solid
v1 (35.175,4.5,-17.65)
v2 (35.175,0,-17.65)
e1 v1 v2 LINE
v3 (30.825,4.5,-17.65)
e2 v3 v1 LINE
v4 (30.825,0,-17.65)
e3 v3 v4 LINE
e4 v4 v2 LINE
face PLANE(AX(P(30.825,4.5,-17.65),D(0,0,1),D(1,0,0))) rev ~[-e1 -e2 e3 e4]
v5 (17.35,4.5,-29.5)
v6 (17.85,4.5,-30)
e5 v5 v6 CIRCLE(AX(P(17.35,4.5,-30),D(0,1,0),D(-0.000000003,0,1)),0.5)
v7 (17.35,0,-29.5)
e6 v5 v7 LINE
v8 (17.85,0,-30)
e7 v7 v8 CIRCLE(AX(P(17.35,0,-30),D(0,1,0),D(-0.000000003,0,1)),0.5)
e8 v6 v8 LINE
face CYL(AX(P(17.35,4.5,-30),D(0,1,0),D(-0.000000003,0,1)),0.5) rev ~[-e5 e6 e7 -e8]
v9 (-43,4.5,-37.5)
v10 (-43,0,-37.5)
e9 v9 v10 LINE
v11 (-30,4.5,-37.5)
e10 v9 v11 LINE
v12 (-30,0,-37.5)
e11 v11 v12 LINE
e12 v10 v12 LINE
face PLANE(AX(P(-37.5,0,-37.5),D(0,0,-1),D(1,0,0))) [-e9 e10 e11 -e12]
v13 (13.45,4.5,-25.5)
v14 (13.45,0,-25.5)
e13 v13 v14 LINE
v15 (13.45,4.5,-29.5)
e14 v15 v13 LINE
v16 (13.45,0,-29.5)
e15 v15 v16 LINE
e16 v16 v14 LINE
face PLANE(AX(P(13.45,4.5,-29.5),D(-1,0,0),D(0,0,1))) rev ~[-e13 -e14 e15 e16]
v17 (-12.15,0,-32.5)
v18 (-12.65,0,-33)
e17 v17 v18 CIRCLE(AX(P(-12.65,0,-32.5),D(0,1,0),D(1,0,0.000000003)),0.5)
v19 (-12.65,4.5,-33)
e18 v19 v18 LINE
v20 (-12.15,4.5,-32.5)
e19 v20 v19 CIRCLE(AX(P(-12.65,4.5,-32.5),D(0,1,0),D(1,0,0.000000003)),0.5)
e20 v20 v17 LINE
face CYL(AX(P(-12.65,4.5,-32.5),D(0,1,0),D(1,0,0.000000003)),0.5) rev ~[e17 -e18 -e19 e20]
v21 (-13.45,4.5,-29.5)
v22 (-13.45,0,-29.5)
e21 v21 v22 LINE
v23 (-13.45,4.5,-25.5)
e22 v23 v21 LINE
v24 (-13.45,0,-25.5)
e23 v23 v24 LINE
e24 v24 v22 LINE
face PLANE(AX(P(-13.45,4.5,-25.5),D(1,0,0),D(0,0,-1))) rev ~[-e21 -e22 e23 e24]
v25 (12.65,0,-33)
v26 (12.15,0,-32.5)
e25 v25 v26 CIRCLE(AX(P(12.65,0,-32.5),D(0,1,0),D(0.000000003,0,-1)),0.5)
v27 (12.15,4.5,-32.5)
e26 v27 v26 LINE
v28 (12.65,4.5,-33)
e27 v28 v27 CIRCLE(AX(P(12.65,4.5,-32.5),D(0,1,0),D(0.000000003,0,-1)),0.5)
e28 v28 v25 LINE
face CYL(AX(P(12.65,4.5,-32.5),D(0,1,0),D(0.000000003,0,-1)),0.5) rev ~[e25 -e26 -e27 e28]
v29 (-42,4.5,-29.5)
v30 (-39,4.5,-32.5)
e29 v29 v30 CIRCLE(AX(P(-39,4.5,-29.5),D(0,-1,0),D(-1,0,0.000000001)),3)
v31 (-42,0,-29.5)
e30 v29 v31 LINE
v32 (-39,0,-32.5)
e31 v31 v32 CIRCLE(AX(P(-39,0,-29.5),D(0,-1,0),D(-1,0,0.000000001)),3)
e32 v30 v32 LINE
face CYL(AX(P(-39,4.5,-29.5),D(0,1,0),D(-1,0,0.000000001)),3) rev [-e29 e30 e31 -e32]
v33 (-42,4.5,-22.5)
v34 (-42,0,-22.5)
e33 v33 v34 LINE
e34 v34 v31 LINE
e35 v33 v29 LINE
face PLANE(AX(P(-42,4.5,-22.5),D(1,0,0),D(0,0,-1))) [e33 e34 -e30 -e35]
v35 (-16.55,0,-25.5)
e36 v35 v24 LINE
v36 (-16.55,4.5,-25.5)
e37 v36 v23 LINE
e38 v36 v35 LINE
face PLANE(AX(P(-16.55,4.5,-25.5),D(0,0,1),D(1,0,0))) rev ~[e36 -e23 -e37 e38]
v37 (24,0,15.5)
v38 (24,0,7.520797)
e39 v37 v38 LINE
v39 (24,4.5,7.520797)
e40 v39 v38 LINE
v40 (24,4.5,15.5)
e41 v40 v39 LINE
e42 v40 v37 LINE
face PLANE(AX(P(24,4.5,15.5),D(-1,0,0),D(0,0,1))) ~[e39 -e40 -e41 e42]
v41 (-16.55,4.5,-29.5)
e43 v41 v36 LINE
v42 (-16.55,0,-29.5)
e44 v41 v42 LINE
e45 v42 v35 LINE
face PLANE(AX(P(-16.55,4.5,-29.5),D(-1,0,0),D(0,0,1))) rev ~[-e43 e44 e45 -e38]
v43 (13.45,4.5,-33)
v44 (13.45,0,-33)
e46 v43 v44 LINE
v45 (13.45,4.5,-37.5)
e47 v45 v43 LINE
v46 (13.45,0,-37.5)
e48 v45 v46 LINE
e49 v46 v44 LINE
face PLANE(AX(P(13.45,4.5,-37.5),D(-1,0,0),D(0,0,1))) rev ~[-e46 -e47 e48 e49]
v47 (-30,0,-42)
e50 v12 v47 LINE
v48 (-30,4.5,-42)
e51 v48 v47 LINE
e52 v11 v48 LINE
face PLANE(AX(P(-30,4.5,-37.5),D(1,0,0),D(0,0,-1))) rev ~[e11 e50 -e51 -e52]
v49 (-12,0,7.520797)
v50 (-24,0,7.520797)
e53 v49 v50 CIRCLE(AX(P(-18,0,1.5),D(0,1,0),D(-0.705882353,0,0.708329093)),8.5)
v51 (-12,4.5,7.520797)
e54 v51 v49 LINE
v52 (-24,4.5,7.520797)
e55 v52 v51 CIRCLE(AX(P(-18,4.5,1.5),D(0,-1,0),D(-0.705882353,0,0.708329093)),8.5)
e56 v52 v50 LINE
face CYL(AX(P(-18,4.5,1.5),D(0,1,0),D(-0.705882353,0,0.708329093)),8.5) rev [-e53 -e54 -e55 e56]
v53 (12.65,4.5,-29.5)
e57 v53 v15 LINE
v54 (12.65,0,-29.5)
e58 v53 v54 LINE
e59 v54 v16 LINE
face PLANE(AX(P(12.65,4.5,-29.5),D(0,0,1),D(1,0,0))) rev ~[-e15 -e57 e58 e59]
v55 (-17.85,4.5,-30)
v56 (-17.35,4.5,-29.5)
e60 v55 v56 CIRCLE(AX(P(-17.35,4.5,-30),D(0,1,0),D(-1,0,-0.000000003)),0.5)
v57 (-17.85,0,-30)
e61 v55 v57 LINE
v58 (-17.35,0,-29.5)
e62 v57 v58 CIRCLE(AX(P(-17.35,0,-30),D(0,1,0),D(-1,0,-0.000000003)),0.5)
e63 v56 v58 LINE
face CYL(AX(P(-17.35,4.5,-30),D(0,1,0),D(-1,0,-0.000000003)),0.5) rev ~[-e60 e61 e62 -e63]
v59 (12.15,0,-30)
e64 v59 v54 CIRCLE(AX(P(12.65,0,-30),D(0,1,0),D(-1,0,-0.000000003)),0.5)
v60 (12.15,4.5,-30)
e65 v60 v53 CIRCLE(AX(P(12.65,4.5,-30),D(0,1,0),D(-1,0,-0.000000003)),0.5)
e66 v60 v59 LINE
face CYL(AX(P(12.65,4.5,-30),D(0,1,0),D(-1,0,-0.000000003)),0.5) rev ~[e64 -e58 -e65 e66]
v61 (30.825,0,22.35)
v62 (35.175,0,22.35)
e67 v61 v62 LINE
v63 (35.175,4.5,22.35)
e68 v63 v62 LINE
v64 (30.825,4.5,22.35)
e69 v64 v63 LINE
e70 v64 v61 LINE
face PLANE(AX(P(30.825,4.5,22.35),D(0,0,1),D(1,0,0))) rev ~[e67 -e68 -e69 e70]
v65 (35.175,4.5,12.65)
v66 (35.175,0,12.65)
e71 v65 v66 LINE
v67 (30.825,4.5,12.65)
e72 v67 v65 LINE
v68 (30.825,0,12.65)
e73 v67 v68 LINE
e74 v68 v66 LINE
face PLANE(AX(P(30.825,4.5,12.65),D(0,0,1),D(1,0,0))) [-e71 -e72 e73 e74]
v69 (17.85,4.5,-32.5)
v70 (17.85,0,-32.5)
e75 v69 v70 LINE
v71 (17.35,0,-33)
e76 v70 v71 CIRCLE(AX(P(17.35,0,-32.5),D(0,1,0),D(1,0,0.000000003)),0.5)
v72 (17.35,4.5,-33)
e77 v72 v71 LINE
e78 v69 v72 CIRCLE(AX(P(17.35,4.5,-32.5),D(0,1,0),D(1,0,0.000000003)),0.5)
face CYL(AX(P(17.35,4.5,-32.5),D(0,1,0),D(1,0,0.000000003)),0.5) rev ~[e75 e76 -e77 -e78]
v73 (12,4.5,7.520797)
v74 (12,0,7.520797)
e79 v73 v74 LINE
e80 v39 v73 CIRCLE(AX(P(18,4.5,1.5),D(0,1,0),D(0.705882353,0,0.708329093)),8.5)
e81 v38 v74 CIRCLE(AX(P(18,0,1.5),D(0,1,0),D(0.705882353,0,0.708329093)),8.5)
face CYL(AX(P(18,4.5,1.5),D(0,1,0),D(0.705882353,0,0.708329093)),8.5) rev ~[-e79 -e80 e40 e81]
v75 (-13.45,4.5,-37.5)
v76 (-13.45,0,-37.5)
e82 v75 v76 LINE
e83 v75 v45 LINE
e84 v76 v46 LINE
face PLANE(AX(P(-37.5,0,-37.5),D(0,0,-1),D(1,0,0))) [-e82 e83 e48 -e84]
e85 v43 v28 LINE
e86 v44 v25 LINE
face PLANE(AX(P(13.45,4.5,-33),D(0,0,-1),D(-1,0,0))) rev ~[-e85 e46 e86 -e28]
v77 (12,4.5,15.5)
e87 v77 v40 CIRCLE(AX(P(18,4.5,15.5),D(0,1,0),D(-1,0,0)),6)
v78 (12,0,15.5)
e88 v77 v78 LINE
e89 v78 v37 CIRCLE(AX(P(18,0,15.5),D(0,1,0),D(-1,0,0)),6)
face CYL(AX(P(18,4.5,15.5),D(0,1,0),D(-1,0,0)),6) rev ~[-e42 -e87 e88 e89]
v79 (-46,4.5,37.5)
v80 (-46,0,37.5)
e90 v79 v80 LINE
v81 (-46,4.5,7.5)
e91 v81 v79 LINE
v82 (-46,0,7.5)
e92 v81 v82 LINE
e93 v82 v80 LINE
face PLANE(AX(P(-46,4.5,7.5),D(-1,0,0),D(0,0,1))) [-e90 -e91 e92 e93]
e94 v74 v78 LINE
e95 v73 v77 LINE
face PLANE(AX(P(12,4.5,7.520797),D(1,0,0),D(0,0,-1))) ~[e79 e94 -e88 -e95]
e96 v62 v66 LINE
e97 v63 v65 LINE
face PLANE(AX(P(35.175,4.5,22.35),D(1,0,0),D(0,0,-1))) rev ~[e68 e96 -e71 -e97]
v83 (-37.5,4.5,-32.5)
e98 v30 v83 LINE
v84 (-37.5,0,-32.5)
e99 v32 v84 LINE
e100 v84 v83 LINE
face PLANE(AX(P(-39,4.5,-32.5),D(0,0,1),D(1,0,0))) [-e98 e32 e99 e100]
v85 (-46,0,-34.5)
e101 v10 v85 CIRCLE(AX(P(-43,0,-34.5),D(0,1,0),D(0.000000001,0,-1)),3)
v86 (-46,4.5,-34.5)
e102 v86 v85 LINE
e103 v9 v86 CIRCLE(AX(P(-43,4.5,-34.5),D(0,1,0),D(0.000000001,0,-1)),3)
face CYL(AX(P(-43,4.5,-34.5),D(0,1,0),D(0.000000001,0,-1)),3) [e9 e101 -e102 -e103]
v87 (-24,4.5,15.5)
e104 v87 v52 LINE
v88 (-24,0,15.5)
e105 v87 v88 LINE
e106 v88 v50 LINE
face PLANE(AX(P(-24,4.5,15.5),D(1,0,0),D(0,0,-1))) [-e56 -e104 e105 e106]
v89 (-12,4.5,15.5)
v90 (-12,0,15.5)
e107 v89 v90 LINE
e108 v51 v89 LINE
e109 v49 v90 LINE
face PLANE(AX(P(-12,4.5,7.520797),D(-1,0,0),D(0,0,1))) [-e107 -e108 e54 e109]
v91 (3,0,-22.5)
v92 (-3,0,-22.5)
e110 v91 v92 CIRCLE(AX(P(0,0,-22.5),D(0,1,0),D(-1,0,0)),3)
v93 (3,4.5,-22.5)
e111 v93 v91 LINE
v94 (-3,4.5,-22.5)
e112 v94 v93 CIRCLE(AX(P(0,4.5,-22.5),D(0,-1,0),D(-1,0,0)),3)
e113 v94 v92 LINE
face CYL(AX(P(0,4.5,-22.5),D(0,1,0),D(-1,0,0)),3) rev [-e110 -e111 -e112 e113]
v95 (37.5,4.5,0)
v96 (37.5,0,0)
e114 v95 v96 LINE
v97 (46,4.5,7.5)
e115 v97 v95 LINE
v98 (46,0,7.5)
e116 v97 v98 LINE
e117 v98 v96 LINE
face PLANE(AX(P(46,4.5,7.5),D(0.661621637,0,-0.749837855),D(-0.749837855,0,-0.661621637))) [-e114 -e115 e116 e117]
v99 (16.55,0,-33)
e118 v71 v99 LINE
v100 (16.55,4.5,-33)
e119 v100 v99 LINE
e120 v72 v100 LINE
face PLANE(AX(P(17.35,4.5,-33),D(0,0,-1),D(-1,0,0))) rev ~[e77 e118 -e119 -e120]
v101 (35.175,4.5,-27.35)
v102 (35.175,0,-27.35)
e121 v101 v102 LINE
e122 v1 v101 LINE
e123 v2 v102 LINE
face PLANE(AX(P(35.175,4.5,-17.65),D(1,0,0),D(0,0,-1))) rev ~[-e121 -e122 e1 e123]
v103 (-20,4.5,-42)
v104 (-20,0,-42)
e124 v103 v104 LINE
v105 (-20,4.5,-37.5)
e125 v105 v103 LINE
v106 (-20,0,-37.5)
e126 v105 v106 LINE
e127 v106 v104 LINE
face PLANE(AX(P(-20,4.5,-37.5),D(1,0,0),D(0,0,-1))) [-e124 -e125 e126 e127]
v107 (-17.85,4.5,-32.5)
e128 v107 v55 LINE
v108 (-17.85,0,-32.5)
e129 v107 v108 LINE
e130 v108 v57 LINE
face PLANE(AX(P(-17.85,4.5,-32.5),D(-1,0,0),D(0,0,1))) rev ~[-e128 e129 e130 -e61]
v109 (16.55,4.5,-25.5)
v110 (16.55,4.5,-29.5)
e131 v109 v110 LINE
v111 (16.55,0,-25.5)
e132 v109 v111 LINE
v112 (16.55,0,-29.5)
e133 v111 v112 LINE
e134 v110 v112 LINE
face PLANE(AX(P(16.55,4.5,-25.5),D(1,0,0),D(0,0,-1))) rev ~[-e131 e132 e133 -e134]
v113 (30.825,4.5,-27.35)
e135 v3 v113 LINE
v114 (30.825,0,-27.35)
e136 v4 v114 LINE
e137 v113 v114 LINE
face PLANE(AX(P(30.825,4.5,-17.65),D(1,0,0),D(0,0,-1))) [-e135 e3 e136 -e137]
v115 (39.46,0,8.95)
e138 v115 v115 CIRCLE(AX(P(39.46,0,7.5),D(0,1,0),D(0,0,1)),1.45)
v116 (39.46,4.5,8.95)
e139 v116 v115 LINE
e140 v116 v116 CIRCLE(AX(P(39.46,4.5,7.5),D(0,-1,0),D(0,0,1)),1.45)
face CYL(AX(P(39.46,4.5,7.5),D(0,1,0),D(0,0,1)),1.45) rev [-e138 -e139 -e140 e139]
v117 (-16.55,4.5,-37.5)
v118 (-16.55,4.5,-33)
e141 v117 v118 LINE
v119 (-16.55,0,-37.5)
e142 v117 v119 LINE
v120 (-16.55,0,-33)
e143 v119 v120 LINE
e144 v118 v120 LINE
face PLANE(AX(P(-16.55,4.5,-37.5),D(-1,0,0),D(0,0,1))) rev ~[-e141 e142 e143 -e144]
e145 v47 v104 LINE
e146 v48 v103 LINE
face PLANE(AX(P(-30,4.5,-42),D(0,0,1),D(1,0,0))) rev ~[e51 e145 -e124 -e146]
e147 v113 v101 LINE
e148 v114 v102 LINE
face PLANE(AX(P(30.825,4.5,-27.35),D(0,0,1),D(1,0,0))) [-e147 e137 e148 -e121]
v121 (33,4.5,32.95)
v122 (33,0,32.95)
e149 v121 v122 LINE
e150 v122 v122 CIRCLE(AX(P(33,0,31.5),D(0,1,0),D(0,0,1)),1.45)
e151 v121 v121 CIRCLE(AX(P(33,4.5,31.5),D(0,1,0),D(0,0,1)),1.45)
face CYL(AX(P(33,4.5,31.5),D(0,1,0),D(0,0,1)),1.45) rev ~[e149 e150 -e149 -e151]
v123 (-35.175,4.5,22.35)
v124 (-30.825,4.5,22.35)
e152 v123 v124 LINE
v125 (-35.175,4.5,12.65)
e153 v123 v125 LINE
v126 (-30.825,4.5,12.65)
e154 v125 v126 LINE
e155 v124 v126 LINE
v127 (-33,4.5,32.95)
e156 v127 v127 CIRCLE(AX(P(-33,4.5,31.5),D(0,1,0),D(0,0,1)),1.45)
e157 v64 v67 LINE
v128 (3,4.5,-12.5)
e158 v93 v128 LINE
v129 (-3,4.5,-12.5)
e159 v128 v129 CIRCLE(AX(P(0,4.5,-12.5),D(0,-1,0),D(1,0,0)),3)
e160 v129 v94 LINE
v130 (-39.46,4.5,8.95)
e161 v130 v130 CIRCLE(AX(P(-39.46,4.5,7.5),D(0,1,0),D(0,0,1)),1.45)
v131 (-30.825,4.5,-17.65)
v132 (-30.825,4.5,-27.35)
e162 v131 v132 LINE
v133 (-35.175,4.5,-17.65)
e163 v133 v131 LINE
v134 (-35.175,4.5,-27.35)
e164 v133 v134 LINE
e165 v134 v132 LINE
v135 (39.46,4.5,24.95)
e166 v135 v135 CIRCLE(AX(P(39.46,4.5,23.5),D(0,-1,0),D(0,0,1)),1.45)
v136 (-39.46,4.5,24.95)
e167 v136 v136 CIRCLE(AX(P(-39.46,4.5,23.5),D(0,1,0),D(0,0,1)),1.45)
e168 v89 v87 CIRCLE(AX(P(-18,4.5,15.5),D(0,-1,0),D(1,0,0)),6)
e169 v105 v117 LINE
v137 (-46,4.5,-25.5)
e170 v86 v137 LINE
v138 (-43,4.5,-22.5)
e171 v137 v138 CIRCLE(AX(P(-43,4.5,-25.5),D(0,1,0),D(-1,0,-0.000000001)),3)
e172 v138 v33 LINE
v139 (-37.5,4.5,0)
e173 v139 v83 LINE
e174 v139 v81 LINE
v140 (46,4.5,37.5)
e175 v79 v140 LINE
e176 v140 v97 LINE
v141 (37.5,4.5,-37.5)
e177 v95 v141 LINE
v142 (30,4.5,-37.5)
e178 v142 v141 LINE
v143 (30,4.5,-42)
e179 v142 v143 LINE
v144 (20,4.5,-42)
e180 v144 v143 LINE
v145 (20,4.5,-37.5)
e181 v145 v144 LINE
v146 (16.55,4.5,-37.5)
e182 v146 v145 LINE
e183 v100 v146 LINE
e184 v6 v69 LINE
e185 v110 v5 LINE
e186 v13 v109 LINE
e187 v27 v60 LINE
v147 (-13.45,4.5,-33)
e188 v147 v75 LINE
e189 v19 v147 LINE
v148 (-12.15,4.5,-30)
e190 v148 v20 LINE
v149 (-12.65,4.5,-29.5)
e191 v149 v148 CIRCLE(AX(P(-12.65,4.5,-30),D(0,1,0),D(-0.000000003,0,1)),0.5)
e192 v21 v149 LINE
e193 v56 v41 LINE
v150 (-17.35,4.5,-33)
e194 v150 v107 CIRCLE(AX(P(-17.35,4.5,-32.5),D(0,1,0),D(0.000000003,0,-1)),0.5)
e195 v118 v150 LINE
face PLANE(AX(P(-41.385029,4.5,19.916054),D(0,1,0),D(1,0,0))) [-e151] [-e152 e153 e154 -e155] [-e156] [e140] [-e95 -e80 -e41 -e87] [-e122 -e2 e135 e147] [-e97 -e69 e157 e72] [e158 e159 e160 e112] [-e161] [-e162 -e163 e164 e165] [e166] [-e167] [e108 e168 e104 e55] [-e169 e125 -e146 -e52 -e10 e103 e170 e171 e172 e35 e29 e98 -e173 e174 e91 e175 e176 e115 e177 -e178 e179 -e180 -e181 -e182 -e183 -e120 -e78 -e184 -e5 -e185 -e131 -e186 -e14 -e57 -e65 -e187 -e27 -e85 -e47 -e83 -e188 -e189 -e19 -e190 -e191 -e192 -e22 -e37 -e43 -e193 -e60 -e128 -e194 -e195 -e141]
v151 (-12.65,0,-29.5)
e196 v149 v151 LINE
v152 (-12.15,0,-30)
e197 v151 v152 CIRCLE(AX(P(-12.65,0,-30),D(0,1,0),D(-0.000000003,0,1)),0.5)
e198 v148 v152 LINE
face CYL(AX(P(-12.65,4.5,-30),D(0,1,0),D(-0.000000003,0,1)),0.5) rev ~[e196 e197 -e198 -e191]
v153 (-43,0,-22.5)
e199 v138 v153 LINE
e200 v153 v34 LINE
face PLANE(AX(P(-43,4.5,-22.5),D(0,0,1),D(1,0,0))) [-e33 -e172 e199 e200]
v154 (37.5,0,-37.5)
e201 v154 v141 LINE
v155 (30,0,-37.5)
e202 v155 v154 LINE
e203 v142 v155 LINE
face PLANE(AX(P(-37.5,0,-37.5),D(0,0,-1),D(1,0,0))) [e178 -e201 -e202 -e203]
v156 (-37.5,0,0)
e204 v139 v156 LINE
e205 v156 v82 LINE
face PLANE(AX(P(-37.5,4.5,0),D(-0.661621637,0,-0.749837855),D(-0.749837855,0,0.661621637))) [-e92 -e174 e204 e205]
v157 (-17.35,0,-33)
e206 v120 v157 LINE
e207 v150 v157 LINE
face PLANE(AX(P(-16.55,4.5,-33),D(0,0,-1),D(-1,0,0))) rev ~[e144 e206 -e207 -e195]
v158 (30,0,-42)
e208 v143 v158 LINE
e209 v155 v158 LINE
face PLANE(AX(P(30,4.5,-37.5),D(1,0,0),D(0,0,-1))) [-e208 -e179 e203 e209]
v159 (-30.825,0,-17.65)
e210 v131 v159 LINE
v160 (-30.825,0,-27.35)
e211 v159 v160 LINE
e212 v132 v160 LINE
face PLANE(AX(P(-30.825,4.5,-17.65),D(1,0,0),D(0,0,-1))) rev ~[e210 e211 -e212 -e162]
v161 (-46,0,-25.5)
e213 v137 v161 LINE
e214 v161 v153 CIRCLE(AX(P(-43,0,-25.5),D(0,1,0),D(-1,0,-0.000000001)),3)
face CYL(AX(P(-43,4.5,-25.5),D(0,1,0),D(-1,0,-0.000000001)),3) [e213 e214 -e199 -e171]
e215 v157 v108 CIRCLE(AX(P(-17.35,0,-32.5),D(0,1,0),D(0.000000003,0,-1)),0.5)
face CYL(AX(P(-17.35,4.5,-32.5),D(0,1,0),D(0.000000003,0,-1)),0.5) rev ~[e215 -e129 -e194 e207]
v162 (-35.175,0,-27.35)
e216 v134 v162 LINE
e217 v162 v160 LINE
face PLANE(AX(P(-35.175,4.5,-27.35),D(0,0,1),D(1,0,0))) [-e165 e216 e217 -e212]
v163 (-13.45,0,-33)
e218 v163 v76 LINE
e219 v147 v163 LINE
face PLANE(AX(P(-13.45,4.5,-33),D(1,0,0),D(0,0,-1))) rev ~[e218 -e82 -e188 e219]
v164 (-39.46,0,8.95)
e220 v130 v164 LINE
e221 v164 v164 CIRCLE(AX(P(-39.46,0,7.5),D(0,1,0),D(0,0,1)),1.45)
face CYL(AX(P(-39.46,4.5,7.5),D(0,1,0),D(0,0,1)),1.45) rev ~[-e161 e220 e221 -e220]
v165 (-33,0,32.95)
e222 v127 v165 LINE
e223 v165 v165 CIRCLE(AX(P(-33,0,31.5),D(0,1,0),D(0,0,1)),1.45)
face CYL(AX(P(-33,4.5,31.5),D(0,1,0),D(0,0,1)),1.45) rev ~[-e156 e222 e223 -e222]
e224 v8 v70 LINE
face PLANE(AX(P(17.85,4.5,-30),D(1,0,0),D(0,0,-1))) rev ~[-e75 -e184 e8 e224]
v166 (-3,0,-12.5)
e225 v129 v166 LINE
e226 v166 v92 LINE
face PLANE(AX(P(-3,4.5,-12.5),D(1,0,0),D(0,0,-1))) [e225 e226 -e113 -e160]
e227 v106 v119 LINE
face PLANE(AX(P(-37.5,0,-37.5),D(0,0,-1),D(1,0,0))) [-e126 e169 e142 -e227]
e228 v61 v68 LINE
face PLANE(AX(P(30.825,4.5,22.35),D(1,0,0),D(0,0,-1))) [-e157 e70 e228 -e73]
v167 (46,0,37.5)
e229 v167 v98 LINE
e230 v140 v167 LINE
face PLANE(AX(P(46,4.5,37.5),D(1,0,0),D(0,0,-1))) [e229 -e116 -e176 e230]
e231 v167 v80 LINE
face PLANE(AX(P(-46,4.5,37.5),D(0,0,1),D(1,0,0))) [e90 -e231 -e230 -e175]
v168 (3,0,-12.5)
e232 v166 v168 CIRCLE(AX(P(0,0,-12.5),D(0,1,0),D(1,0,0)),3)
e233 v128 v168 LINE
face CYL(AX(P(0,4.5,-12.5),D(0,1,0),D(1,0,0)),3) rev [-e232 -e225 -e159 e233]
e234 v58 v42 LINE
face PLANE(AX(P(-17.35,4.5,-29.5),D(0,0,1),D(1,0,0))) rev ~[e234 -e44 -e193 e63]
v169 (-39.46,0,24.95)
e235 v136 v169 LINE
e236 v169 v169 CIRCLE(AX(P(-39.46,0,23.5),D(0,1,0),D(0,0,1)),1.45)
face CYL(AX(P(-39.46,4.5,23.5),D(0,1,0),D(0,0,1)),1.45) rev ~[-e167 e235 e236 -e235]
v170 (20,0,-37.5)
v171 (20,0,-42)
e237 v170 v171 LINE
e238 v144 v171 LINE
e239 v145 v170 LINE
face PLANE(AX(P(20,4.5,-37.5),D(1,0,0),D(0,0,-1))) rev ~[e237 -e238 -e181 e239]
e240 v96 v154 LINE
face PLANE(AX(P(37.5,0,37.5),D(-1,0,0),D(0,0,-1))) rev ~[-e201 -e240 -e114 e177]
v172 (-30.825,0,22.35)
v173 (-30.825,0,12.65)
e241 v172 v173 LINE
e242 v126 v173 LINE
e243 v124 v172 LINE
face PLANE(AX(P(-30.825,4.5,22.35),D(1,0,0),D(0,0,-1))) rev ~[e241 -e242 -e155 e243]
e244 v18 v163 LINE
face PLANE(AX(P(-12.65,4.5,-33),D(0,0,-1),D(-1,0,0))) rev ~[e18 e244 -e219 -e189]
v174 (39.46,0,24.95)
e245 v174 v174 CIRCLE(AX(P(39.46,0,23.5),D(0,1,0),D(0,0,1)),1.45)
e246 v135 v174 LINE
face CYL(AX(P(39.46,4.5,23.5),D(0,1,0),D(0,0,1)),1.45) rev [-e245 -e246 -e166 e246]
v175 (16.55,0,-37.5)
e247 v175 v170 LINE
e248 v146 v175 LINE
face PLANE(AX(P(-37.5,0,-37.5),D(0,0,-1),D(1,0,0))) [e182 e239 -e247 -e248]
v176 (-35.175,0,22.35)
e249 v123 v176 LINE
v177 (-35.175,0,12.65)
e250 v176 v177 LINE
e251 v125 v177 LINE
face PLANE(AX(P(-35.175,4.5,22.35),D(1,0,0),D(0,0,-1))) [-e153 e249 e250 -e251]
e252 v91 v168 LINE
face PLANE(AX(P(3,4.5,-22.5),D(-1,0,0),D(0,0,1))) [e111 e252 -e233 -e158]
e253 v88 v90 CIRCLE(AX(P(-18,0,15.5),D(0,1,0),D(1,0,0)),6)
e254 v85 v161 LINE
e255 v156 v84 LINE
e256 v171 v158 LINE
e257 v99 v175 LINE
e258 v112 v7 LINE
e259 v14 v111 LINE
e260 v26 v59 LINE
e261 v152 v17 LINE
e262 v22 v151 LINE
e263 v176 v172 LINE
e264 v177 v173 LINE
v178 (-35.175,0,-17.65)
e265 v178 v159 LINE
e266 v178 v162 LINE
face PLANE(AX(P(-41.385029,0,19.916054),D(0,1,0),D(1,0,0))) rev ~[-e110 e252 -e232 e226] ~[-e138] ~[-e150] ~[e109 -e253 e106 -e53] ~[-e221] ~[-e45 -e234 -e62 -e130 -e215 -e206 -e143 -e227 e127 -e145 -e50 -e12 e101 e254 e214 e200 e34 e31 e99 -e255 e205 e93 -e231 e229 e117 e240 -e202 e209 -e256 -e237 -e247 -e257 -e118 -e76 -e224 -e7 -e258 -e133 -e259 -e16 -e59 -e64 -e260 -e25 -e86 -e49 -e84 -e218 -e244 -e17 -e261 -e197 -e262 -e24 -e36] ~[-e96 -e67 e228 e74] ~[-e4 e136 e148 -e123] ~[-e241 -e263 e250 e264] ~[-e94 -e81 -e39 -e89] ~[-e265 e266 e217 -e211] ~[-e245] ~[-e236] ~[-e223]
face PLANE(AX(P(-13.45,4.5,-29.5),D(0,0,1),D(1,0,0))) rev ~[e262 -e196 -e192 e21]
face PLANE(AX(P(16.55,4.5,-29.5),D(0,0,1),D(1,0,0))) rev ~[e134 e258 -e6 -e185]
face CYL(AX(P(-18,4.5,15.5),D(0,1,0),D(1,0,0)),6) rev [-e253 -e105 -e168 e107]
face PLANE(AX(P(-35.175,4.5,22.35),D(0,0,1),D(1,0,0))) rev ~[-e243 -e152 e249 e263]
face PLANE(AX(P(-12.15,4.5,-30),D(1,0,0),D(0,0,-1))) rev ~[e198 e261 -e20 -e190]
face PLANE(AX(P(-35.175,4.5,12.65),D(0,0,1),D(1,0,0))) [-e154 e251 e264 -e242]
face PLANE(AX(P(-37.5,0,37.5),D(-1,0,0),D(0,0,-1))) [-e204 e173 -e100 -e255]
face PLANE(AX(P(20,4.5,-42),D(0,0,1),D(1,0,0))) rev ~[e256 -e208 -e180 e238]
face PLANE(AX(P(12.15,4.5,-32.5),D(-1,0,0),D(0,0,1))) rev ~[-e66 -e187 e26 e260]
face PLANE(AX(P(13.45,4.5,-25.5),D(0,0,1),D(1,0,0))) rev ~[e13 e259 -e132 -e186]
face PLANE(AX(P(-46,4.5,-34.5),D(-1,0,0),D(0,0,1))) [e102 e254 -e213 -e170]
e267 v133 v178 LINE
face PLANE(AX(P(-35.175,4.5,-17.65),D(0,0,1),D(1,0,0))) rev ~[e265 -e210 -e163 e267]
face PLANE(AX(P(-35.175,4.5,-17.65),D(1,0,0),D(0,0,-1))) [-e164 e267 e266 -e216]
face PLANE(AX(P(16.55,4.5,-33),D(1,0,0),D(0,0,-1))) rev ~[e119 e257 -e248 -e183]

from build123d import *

# Parameters (mm, degrees)
SKETCH1_W            = 75
SKETCH1_H            = 75
MAINSHAPE_DEPTH      = 4.5
SKETCH5_W            = 4.35
SKETCH5_H            = 9.7
CUT_EXTRUDE3_DEPTH   = 54.223584998
CUT_EXTRUDE4_DEPTH   = 54.223584998
BOSS_EXTRUDE2_DEPTH  = 4.5
SKETCH8_R            = 1.45
CUT_EXTRUDE6_DEPTH   = 60.51890456
SKETCH11_W           = 10
SKETCH11_H           = 4.5
REARTABS_DEPTH       = 4.5
FRONTSCREWSLOT_DEPTH = 63.451981554
SKETCH14_R           = 1.45
BRACESCREWS_DEPTH    = 63.451981554
WIRINGSLOT_DEPTH     = 63.451981554
BOSS_EXTRUDE4_DEPTH  = 4.5


with BuildPart() as part:
    # Sketch1 → MainShape (new body)
    with BuildSketch(Plane(origin=(0, 0, 0), x_dir=(1, 0, 0), z_dir=(0, 1, 0))):
        Rectangle(SKETCH1_W, SKETCH1_H)
    extrude(amount=MAINSHAPE_DEPTH)

    # Sketch5 → Cut-Extrude3 (cut, through all)
    with BuildSketch(Plane(origin=(0, 4.5, 0), x_dir=(1, 0, 0), z_dir=(0, 1, 0))):
        with Locations((33, 22.5)):
            Rectangle(SKETCH5_W, SKETCH5_H)
        with Locations((-33, 22.5)):
            Rectangle(SKETCH5_W, SKETCH5_H)
        with Locations((-33, -17.5)):
            Rectangle(SKETCH5_W, SKETCH5_H)
        with Locations((33, -17.5)):
            Rectangle(SKETCH5_W, SKETCH5_H)
    extrude(amount=-CUT_EXTRUDE3_DEPTH, mode=Mode.SUBTRACT)

    # Sketch6 → Cut-Extrude4 (cut, through all)
    with BuildSketch(Plane(origin=(0, 4.5, 0), x_dir=(1, 0, 0), z_dir=(0, 1, 0))):
        with BuildLine():
            Line((-24, -15.5), (-24, -7.520797289))
            ThreePointArc((-24, -7.520797289), (-18, 7), (-12, -7.520797289))
            Line((-12, -7.520797289), (-12, -15.5))
            ThreePointArc((-12, -15.5), (-18, -21.5), (-24, -15.5))
        make_face()
    cut_extrude4 = extrude(amount=-CUT_EXTRUDE4_DEPTH, mode=Mode.SUBTRACT)

    # Sketch13 → Boss-Extrude2 (add, through all)
    with BuildSketch(Plane(origin=(0, 4.5, 0), x_dir=(1, 0, 0), z_dir=(0, 1, 0))):
        Polygon((-37.5, -37.5), (-37.5, 0), (-46, -7.5), (-46, -37.5), align=None)
        Polygon((37.5, 0), (37.5, -37.5), (46, -37.5), (46, -7.5), align=None)
    extrude(amount=-BOSS_EXTRUDE2_DEPTH)

    # Sketch8 → Cut-Extrude6 (cut, through all)
    with BuildSketch(Plane(origin=(0, 4.5, 0), x_dir=(1, 0, 0), z_dir=(0, 1, 0))):
        with Locations(Location((-39.46, -7.5, 0), (0, 0, 270))):
            Circle(SKETCH8_R)
        with Locations(Location((-39.46, -23.5, 0), (0, 0, 270))):
            Circle(SKETCH8_R)
    cut_extrude6 = extrude(amount=-CUT_EXTRUDE6_DEPTH, mode=Mode.SUBTRACT)

    # Mirror1: Cut-Extrude4, Cut-Extrude6 across plane
    add(cut_extrude4.mirror(Plane(origin=(0, 0, 0), x_dir=(0, 0, 1), z_dir=(1, 0, 0))), mode=Mode.SUBTRACT)
    add(cut_extrude6.mirror(Plane(origin=(0, 0, 0), x_dir=(0, 0, 1), z_dir=(1, 0, 0))), mode=Mode.SUBTRACT)

    # Sketch11 → RearTabs (add, through all)
    with BuildSketch(Plane(origin=(0, 4.5, 0), x_dir=(1, 0, 0), z_dir=(0, 1, 0))):
        with Locations((-25, 39.75)):
            Rectangle(SKETCH11_W, SKETCH11_H)
        with Locations((25, 39.75)):
            Rectangle(SKETCH11_W, SKETCH11_H)
    extrude(amount=-REARTABS_DEPTH)

    # Sketch12 → FrontScrewSlot (cut, through all)
    with BuildSketch(Plane(origin=(0, 4.5, 0), x_dir=(1, 0, 0), z_dir=(0, 1, 0))):
        with BuildLine():
            Line((-13.45, 37.5), (-16.55, 37.5))
            Line((-16.55, 37.5), (-16.55, 33))
            Line((-16.55, 33), (-17.35, 33))
            ThreePointArc((-17.35, 33), (-17.703553391, 32.853553391), (-17.85, 32.5))
            Line((-17.85, 32.5), (-17.85, 30))
            ThreePointArc((-17.85, 30), (-17.703553391, 29.646446609), (-17.35, 29.5))
            Line((-17.35, 29.5), (-16.55, 29.5))
            Line((-16.55, 29.5), (-16.55, 25.5))
            Line((-16.55, 25.5), (-13.45, 25.5))
            Line((-13.45, 25.5), (-13.45, 29.5))
            Line((-13.45, 29.5), (-12.65, 29.5))
            ThreePointArc((-12.65, 29.5), (-12.296446609, 29.646446609), (-12.15, 30))
            Line((-12.15, 30), (-12.15, 32.5))
            ThreePointArc((-12.15, 32.5), (-12.296446609, 32.853553391), (-12.65, 33))
            Line((-12.65, 33), (-13.45, 33))
            Line((-13.45, 33), (-13.45, 37.5))
        make_face()
        with BuildLine():
            Line((13.45, 37.5), (13.45, 33))
            Line((13.45, 33), (12.65, 33))
            ThreePointArc((12.65, 33), (12.296446609, 32.853553391), (12.15, 32.5))
            Line((12.15, 32.5), (12.15, 30))
            ThreePointArc((12.15, 30), (12.296446609, 29.646446609), (12.65, 29.5))
            Line((12.65, 29.5), (13.45, 29.5))
            Line((13.45, 29.5), (13.45, 25.5))
            Line((13.45, 25.5), (16.55, 25.5))
            Line((16.55, 25.5), (16.55, 29.5))
            Line((16.55, 29.5), (17.35, 29.5))
            ThreePointArc((17.35, 29.5), (17.703553391, 29.646446609), (17.85, 30))
            Line((17.85, 30), (17.85, 32.5))
            ThreePointArc((17.85, 32.5), (17.703553391, 32.853553391), (17.35, 33))
            Line((17.35, 33), (16.55, 33))
            Line((16.55, 33), (16.55, 37.5))
            Line((16.55, 37.5), (13.45, 37.5))
        make_face()
    extrude(amount=-FRONTSCREWSLOT_DEPTH, mode=Mode.SUBTRACT)

    # Sketch14 → BraceScrews (cut, through all)
    with BuildSketch(Plane(origin=(0, 4.5, 0), x_dir=(1, 0, 0), z_dir=(0, 1, 0))):
        with Locations(Location((-33, -31.5, 0), (0, 0, 270))):
            Circle(SKETCH14_R)
        with Locations(Location((33, -31.5, 0), (0, 0, 270))):
            Circle(SKETCH14_R)
    extrude(amount=-BRACESCREWS_DEPTH, mode=Mode.SUBTRACT)

    # Sketch16 → WiringSlot (cut, through all)
    with BuildSketch(Plane(origin=(0, 4.5, 0), x_dir=(1, 0, 0), z_dir=(0, 1, 0))):
        with BuildLine():
            Line((3, 22.5), (3, 12.5))
            ThreePointArc((3, 12.5), (0, 9.5), (-3, 12.5))
            Line((-3, 12.5), (-3, 22.5))
            ThreePointArc((-3, 22.5), (0, 25.5), (3, 22.5))
        make_face()
    extrude(amount=-WIRINGSLOT_DEPTH, mode=Mode.SUBTRACT)

    # Sketch21 → Boss-Extrude4 (add, through all)
    with BuildSketch(Plane(origin=(0, 4.5, 0), x_dir=(1, 0, 0), z_dir=(0, 1, 0))):
        with BuildLine():
            Line((-37, 37.5), (-43, 37.5))
            ThreePointArc((-43, 37.5), (-45.121320344, 36.621320344), (-46, 34.5))
            Line((-46, 34.5), (-46, 25.5))
            ThreePointArc((-46, 25.5), (-45.121320344, 23.378679656), (-43, 22.5))
            Line((-43, 22.5), (-42, 22.5))
            Line((-42, 22.5), (-42, 29.5))
            ThreePointArc((-42, 29.5), (-41.121320344, 31.621320344), (-39, 32.5))
            Line((-39, 32.5), (-37, 32.5))
            Line((-37, 32.5), (-37, 37.5))
        make_face()
    extrude(amount=-BOSS_EXTRUDE4_DEPTH)


solid = part.part
